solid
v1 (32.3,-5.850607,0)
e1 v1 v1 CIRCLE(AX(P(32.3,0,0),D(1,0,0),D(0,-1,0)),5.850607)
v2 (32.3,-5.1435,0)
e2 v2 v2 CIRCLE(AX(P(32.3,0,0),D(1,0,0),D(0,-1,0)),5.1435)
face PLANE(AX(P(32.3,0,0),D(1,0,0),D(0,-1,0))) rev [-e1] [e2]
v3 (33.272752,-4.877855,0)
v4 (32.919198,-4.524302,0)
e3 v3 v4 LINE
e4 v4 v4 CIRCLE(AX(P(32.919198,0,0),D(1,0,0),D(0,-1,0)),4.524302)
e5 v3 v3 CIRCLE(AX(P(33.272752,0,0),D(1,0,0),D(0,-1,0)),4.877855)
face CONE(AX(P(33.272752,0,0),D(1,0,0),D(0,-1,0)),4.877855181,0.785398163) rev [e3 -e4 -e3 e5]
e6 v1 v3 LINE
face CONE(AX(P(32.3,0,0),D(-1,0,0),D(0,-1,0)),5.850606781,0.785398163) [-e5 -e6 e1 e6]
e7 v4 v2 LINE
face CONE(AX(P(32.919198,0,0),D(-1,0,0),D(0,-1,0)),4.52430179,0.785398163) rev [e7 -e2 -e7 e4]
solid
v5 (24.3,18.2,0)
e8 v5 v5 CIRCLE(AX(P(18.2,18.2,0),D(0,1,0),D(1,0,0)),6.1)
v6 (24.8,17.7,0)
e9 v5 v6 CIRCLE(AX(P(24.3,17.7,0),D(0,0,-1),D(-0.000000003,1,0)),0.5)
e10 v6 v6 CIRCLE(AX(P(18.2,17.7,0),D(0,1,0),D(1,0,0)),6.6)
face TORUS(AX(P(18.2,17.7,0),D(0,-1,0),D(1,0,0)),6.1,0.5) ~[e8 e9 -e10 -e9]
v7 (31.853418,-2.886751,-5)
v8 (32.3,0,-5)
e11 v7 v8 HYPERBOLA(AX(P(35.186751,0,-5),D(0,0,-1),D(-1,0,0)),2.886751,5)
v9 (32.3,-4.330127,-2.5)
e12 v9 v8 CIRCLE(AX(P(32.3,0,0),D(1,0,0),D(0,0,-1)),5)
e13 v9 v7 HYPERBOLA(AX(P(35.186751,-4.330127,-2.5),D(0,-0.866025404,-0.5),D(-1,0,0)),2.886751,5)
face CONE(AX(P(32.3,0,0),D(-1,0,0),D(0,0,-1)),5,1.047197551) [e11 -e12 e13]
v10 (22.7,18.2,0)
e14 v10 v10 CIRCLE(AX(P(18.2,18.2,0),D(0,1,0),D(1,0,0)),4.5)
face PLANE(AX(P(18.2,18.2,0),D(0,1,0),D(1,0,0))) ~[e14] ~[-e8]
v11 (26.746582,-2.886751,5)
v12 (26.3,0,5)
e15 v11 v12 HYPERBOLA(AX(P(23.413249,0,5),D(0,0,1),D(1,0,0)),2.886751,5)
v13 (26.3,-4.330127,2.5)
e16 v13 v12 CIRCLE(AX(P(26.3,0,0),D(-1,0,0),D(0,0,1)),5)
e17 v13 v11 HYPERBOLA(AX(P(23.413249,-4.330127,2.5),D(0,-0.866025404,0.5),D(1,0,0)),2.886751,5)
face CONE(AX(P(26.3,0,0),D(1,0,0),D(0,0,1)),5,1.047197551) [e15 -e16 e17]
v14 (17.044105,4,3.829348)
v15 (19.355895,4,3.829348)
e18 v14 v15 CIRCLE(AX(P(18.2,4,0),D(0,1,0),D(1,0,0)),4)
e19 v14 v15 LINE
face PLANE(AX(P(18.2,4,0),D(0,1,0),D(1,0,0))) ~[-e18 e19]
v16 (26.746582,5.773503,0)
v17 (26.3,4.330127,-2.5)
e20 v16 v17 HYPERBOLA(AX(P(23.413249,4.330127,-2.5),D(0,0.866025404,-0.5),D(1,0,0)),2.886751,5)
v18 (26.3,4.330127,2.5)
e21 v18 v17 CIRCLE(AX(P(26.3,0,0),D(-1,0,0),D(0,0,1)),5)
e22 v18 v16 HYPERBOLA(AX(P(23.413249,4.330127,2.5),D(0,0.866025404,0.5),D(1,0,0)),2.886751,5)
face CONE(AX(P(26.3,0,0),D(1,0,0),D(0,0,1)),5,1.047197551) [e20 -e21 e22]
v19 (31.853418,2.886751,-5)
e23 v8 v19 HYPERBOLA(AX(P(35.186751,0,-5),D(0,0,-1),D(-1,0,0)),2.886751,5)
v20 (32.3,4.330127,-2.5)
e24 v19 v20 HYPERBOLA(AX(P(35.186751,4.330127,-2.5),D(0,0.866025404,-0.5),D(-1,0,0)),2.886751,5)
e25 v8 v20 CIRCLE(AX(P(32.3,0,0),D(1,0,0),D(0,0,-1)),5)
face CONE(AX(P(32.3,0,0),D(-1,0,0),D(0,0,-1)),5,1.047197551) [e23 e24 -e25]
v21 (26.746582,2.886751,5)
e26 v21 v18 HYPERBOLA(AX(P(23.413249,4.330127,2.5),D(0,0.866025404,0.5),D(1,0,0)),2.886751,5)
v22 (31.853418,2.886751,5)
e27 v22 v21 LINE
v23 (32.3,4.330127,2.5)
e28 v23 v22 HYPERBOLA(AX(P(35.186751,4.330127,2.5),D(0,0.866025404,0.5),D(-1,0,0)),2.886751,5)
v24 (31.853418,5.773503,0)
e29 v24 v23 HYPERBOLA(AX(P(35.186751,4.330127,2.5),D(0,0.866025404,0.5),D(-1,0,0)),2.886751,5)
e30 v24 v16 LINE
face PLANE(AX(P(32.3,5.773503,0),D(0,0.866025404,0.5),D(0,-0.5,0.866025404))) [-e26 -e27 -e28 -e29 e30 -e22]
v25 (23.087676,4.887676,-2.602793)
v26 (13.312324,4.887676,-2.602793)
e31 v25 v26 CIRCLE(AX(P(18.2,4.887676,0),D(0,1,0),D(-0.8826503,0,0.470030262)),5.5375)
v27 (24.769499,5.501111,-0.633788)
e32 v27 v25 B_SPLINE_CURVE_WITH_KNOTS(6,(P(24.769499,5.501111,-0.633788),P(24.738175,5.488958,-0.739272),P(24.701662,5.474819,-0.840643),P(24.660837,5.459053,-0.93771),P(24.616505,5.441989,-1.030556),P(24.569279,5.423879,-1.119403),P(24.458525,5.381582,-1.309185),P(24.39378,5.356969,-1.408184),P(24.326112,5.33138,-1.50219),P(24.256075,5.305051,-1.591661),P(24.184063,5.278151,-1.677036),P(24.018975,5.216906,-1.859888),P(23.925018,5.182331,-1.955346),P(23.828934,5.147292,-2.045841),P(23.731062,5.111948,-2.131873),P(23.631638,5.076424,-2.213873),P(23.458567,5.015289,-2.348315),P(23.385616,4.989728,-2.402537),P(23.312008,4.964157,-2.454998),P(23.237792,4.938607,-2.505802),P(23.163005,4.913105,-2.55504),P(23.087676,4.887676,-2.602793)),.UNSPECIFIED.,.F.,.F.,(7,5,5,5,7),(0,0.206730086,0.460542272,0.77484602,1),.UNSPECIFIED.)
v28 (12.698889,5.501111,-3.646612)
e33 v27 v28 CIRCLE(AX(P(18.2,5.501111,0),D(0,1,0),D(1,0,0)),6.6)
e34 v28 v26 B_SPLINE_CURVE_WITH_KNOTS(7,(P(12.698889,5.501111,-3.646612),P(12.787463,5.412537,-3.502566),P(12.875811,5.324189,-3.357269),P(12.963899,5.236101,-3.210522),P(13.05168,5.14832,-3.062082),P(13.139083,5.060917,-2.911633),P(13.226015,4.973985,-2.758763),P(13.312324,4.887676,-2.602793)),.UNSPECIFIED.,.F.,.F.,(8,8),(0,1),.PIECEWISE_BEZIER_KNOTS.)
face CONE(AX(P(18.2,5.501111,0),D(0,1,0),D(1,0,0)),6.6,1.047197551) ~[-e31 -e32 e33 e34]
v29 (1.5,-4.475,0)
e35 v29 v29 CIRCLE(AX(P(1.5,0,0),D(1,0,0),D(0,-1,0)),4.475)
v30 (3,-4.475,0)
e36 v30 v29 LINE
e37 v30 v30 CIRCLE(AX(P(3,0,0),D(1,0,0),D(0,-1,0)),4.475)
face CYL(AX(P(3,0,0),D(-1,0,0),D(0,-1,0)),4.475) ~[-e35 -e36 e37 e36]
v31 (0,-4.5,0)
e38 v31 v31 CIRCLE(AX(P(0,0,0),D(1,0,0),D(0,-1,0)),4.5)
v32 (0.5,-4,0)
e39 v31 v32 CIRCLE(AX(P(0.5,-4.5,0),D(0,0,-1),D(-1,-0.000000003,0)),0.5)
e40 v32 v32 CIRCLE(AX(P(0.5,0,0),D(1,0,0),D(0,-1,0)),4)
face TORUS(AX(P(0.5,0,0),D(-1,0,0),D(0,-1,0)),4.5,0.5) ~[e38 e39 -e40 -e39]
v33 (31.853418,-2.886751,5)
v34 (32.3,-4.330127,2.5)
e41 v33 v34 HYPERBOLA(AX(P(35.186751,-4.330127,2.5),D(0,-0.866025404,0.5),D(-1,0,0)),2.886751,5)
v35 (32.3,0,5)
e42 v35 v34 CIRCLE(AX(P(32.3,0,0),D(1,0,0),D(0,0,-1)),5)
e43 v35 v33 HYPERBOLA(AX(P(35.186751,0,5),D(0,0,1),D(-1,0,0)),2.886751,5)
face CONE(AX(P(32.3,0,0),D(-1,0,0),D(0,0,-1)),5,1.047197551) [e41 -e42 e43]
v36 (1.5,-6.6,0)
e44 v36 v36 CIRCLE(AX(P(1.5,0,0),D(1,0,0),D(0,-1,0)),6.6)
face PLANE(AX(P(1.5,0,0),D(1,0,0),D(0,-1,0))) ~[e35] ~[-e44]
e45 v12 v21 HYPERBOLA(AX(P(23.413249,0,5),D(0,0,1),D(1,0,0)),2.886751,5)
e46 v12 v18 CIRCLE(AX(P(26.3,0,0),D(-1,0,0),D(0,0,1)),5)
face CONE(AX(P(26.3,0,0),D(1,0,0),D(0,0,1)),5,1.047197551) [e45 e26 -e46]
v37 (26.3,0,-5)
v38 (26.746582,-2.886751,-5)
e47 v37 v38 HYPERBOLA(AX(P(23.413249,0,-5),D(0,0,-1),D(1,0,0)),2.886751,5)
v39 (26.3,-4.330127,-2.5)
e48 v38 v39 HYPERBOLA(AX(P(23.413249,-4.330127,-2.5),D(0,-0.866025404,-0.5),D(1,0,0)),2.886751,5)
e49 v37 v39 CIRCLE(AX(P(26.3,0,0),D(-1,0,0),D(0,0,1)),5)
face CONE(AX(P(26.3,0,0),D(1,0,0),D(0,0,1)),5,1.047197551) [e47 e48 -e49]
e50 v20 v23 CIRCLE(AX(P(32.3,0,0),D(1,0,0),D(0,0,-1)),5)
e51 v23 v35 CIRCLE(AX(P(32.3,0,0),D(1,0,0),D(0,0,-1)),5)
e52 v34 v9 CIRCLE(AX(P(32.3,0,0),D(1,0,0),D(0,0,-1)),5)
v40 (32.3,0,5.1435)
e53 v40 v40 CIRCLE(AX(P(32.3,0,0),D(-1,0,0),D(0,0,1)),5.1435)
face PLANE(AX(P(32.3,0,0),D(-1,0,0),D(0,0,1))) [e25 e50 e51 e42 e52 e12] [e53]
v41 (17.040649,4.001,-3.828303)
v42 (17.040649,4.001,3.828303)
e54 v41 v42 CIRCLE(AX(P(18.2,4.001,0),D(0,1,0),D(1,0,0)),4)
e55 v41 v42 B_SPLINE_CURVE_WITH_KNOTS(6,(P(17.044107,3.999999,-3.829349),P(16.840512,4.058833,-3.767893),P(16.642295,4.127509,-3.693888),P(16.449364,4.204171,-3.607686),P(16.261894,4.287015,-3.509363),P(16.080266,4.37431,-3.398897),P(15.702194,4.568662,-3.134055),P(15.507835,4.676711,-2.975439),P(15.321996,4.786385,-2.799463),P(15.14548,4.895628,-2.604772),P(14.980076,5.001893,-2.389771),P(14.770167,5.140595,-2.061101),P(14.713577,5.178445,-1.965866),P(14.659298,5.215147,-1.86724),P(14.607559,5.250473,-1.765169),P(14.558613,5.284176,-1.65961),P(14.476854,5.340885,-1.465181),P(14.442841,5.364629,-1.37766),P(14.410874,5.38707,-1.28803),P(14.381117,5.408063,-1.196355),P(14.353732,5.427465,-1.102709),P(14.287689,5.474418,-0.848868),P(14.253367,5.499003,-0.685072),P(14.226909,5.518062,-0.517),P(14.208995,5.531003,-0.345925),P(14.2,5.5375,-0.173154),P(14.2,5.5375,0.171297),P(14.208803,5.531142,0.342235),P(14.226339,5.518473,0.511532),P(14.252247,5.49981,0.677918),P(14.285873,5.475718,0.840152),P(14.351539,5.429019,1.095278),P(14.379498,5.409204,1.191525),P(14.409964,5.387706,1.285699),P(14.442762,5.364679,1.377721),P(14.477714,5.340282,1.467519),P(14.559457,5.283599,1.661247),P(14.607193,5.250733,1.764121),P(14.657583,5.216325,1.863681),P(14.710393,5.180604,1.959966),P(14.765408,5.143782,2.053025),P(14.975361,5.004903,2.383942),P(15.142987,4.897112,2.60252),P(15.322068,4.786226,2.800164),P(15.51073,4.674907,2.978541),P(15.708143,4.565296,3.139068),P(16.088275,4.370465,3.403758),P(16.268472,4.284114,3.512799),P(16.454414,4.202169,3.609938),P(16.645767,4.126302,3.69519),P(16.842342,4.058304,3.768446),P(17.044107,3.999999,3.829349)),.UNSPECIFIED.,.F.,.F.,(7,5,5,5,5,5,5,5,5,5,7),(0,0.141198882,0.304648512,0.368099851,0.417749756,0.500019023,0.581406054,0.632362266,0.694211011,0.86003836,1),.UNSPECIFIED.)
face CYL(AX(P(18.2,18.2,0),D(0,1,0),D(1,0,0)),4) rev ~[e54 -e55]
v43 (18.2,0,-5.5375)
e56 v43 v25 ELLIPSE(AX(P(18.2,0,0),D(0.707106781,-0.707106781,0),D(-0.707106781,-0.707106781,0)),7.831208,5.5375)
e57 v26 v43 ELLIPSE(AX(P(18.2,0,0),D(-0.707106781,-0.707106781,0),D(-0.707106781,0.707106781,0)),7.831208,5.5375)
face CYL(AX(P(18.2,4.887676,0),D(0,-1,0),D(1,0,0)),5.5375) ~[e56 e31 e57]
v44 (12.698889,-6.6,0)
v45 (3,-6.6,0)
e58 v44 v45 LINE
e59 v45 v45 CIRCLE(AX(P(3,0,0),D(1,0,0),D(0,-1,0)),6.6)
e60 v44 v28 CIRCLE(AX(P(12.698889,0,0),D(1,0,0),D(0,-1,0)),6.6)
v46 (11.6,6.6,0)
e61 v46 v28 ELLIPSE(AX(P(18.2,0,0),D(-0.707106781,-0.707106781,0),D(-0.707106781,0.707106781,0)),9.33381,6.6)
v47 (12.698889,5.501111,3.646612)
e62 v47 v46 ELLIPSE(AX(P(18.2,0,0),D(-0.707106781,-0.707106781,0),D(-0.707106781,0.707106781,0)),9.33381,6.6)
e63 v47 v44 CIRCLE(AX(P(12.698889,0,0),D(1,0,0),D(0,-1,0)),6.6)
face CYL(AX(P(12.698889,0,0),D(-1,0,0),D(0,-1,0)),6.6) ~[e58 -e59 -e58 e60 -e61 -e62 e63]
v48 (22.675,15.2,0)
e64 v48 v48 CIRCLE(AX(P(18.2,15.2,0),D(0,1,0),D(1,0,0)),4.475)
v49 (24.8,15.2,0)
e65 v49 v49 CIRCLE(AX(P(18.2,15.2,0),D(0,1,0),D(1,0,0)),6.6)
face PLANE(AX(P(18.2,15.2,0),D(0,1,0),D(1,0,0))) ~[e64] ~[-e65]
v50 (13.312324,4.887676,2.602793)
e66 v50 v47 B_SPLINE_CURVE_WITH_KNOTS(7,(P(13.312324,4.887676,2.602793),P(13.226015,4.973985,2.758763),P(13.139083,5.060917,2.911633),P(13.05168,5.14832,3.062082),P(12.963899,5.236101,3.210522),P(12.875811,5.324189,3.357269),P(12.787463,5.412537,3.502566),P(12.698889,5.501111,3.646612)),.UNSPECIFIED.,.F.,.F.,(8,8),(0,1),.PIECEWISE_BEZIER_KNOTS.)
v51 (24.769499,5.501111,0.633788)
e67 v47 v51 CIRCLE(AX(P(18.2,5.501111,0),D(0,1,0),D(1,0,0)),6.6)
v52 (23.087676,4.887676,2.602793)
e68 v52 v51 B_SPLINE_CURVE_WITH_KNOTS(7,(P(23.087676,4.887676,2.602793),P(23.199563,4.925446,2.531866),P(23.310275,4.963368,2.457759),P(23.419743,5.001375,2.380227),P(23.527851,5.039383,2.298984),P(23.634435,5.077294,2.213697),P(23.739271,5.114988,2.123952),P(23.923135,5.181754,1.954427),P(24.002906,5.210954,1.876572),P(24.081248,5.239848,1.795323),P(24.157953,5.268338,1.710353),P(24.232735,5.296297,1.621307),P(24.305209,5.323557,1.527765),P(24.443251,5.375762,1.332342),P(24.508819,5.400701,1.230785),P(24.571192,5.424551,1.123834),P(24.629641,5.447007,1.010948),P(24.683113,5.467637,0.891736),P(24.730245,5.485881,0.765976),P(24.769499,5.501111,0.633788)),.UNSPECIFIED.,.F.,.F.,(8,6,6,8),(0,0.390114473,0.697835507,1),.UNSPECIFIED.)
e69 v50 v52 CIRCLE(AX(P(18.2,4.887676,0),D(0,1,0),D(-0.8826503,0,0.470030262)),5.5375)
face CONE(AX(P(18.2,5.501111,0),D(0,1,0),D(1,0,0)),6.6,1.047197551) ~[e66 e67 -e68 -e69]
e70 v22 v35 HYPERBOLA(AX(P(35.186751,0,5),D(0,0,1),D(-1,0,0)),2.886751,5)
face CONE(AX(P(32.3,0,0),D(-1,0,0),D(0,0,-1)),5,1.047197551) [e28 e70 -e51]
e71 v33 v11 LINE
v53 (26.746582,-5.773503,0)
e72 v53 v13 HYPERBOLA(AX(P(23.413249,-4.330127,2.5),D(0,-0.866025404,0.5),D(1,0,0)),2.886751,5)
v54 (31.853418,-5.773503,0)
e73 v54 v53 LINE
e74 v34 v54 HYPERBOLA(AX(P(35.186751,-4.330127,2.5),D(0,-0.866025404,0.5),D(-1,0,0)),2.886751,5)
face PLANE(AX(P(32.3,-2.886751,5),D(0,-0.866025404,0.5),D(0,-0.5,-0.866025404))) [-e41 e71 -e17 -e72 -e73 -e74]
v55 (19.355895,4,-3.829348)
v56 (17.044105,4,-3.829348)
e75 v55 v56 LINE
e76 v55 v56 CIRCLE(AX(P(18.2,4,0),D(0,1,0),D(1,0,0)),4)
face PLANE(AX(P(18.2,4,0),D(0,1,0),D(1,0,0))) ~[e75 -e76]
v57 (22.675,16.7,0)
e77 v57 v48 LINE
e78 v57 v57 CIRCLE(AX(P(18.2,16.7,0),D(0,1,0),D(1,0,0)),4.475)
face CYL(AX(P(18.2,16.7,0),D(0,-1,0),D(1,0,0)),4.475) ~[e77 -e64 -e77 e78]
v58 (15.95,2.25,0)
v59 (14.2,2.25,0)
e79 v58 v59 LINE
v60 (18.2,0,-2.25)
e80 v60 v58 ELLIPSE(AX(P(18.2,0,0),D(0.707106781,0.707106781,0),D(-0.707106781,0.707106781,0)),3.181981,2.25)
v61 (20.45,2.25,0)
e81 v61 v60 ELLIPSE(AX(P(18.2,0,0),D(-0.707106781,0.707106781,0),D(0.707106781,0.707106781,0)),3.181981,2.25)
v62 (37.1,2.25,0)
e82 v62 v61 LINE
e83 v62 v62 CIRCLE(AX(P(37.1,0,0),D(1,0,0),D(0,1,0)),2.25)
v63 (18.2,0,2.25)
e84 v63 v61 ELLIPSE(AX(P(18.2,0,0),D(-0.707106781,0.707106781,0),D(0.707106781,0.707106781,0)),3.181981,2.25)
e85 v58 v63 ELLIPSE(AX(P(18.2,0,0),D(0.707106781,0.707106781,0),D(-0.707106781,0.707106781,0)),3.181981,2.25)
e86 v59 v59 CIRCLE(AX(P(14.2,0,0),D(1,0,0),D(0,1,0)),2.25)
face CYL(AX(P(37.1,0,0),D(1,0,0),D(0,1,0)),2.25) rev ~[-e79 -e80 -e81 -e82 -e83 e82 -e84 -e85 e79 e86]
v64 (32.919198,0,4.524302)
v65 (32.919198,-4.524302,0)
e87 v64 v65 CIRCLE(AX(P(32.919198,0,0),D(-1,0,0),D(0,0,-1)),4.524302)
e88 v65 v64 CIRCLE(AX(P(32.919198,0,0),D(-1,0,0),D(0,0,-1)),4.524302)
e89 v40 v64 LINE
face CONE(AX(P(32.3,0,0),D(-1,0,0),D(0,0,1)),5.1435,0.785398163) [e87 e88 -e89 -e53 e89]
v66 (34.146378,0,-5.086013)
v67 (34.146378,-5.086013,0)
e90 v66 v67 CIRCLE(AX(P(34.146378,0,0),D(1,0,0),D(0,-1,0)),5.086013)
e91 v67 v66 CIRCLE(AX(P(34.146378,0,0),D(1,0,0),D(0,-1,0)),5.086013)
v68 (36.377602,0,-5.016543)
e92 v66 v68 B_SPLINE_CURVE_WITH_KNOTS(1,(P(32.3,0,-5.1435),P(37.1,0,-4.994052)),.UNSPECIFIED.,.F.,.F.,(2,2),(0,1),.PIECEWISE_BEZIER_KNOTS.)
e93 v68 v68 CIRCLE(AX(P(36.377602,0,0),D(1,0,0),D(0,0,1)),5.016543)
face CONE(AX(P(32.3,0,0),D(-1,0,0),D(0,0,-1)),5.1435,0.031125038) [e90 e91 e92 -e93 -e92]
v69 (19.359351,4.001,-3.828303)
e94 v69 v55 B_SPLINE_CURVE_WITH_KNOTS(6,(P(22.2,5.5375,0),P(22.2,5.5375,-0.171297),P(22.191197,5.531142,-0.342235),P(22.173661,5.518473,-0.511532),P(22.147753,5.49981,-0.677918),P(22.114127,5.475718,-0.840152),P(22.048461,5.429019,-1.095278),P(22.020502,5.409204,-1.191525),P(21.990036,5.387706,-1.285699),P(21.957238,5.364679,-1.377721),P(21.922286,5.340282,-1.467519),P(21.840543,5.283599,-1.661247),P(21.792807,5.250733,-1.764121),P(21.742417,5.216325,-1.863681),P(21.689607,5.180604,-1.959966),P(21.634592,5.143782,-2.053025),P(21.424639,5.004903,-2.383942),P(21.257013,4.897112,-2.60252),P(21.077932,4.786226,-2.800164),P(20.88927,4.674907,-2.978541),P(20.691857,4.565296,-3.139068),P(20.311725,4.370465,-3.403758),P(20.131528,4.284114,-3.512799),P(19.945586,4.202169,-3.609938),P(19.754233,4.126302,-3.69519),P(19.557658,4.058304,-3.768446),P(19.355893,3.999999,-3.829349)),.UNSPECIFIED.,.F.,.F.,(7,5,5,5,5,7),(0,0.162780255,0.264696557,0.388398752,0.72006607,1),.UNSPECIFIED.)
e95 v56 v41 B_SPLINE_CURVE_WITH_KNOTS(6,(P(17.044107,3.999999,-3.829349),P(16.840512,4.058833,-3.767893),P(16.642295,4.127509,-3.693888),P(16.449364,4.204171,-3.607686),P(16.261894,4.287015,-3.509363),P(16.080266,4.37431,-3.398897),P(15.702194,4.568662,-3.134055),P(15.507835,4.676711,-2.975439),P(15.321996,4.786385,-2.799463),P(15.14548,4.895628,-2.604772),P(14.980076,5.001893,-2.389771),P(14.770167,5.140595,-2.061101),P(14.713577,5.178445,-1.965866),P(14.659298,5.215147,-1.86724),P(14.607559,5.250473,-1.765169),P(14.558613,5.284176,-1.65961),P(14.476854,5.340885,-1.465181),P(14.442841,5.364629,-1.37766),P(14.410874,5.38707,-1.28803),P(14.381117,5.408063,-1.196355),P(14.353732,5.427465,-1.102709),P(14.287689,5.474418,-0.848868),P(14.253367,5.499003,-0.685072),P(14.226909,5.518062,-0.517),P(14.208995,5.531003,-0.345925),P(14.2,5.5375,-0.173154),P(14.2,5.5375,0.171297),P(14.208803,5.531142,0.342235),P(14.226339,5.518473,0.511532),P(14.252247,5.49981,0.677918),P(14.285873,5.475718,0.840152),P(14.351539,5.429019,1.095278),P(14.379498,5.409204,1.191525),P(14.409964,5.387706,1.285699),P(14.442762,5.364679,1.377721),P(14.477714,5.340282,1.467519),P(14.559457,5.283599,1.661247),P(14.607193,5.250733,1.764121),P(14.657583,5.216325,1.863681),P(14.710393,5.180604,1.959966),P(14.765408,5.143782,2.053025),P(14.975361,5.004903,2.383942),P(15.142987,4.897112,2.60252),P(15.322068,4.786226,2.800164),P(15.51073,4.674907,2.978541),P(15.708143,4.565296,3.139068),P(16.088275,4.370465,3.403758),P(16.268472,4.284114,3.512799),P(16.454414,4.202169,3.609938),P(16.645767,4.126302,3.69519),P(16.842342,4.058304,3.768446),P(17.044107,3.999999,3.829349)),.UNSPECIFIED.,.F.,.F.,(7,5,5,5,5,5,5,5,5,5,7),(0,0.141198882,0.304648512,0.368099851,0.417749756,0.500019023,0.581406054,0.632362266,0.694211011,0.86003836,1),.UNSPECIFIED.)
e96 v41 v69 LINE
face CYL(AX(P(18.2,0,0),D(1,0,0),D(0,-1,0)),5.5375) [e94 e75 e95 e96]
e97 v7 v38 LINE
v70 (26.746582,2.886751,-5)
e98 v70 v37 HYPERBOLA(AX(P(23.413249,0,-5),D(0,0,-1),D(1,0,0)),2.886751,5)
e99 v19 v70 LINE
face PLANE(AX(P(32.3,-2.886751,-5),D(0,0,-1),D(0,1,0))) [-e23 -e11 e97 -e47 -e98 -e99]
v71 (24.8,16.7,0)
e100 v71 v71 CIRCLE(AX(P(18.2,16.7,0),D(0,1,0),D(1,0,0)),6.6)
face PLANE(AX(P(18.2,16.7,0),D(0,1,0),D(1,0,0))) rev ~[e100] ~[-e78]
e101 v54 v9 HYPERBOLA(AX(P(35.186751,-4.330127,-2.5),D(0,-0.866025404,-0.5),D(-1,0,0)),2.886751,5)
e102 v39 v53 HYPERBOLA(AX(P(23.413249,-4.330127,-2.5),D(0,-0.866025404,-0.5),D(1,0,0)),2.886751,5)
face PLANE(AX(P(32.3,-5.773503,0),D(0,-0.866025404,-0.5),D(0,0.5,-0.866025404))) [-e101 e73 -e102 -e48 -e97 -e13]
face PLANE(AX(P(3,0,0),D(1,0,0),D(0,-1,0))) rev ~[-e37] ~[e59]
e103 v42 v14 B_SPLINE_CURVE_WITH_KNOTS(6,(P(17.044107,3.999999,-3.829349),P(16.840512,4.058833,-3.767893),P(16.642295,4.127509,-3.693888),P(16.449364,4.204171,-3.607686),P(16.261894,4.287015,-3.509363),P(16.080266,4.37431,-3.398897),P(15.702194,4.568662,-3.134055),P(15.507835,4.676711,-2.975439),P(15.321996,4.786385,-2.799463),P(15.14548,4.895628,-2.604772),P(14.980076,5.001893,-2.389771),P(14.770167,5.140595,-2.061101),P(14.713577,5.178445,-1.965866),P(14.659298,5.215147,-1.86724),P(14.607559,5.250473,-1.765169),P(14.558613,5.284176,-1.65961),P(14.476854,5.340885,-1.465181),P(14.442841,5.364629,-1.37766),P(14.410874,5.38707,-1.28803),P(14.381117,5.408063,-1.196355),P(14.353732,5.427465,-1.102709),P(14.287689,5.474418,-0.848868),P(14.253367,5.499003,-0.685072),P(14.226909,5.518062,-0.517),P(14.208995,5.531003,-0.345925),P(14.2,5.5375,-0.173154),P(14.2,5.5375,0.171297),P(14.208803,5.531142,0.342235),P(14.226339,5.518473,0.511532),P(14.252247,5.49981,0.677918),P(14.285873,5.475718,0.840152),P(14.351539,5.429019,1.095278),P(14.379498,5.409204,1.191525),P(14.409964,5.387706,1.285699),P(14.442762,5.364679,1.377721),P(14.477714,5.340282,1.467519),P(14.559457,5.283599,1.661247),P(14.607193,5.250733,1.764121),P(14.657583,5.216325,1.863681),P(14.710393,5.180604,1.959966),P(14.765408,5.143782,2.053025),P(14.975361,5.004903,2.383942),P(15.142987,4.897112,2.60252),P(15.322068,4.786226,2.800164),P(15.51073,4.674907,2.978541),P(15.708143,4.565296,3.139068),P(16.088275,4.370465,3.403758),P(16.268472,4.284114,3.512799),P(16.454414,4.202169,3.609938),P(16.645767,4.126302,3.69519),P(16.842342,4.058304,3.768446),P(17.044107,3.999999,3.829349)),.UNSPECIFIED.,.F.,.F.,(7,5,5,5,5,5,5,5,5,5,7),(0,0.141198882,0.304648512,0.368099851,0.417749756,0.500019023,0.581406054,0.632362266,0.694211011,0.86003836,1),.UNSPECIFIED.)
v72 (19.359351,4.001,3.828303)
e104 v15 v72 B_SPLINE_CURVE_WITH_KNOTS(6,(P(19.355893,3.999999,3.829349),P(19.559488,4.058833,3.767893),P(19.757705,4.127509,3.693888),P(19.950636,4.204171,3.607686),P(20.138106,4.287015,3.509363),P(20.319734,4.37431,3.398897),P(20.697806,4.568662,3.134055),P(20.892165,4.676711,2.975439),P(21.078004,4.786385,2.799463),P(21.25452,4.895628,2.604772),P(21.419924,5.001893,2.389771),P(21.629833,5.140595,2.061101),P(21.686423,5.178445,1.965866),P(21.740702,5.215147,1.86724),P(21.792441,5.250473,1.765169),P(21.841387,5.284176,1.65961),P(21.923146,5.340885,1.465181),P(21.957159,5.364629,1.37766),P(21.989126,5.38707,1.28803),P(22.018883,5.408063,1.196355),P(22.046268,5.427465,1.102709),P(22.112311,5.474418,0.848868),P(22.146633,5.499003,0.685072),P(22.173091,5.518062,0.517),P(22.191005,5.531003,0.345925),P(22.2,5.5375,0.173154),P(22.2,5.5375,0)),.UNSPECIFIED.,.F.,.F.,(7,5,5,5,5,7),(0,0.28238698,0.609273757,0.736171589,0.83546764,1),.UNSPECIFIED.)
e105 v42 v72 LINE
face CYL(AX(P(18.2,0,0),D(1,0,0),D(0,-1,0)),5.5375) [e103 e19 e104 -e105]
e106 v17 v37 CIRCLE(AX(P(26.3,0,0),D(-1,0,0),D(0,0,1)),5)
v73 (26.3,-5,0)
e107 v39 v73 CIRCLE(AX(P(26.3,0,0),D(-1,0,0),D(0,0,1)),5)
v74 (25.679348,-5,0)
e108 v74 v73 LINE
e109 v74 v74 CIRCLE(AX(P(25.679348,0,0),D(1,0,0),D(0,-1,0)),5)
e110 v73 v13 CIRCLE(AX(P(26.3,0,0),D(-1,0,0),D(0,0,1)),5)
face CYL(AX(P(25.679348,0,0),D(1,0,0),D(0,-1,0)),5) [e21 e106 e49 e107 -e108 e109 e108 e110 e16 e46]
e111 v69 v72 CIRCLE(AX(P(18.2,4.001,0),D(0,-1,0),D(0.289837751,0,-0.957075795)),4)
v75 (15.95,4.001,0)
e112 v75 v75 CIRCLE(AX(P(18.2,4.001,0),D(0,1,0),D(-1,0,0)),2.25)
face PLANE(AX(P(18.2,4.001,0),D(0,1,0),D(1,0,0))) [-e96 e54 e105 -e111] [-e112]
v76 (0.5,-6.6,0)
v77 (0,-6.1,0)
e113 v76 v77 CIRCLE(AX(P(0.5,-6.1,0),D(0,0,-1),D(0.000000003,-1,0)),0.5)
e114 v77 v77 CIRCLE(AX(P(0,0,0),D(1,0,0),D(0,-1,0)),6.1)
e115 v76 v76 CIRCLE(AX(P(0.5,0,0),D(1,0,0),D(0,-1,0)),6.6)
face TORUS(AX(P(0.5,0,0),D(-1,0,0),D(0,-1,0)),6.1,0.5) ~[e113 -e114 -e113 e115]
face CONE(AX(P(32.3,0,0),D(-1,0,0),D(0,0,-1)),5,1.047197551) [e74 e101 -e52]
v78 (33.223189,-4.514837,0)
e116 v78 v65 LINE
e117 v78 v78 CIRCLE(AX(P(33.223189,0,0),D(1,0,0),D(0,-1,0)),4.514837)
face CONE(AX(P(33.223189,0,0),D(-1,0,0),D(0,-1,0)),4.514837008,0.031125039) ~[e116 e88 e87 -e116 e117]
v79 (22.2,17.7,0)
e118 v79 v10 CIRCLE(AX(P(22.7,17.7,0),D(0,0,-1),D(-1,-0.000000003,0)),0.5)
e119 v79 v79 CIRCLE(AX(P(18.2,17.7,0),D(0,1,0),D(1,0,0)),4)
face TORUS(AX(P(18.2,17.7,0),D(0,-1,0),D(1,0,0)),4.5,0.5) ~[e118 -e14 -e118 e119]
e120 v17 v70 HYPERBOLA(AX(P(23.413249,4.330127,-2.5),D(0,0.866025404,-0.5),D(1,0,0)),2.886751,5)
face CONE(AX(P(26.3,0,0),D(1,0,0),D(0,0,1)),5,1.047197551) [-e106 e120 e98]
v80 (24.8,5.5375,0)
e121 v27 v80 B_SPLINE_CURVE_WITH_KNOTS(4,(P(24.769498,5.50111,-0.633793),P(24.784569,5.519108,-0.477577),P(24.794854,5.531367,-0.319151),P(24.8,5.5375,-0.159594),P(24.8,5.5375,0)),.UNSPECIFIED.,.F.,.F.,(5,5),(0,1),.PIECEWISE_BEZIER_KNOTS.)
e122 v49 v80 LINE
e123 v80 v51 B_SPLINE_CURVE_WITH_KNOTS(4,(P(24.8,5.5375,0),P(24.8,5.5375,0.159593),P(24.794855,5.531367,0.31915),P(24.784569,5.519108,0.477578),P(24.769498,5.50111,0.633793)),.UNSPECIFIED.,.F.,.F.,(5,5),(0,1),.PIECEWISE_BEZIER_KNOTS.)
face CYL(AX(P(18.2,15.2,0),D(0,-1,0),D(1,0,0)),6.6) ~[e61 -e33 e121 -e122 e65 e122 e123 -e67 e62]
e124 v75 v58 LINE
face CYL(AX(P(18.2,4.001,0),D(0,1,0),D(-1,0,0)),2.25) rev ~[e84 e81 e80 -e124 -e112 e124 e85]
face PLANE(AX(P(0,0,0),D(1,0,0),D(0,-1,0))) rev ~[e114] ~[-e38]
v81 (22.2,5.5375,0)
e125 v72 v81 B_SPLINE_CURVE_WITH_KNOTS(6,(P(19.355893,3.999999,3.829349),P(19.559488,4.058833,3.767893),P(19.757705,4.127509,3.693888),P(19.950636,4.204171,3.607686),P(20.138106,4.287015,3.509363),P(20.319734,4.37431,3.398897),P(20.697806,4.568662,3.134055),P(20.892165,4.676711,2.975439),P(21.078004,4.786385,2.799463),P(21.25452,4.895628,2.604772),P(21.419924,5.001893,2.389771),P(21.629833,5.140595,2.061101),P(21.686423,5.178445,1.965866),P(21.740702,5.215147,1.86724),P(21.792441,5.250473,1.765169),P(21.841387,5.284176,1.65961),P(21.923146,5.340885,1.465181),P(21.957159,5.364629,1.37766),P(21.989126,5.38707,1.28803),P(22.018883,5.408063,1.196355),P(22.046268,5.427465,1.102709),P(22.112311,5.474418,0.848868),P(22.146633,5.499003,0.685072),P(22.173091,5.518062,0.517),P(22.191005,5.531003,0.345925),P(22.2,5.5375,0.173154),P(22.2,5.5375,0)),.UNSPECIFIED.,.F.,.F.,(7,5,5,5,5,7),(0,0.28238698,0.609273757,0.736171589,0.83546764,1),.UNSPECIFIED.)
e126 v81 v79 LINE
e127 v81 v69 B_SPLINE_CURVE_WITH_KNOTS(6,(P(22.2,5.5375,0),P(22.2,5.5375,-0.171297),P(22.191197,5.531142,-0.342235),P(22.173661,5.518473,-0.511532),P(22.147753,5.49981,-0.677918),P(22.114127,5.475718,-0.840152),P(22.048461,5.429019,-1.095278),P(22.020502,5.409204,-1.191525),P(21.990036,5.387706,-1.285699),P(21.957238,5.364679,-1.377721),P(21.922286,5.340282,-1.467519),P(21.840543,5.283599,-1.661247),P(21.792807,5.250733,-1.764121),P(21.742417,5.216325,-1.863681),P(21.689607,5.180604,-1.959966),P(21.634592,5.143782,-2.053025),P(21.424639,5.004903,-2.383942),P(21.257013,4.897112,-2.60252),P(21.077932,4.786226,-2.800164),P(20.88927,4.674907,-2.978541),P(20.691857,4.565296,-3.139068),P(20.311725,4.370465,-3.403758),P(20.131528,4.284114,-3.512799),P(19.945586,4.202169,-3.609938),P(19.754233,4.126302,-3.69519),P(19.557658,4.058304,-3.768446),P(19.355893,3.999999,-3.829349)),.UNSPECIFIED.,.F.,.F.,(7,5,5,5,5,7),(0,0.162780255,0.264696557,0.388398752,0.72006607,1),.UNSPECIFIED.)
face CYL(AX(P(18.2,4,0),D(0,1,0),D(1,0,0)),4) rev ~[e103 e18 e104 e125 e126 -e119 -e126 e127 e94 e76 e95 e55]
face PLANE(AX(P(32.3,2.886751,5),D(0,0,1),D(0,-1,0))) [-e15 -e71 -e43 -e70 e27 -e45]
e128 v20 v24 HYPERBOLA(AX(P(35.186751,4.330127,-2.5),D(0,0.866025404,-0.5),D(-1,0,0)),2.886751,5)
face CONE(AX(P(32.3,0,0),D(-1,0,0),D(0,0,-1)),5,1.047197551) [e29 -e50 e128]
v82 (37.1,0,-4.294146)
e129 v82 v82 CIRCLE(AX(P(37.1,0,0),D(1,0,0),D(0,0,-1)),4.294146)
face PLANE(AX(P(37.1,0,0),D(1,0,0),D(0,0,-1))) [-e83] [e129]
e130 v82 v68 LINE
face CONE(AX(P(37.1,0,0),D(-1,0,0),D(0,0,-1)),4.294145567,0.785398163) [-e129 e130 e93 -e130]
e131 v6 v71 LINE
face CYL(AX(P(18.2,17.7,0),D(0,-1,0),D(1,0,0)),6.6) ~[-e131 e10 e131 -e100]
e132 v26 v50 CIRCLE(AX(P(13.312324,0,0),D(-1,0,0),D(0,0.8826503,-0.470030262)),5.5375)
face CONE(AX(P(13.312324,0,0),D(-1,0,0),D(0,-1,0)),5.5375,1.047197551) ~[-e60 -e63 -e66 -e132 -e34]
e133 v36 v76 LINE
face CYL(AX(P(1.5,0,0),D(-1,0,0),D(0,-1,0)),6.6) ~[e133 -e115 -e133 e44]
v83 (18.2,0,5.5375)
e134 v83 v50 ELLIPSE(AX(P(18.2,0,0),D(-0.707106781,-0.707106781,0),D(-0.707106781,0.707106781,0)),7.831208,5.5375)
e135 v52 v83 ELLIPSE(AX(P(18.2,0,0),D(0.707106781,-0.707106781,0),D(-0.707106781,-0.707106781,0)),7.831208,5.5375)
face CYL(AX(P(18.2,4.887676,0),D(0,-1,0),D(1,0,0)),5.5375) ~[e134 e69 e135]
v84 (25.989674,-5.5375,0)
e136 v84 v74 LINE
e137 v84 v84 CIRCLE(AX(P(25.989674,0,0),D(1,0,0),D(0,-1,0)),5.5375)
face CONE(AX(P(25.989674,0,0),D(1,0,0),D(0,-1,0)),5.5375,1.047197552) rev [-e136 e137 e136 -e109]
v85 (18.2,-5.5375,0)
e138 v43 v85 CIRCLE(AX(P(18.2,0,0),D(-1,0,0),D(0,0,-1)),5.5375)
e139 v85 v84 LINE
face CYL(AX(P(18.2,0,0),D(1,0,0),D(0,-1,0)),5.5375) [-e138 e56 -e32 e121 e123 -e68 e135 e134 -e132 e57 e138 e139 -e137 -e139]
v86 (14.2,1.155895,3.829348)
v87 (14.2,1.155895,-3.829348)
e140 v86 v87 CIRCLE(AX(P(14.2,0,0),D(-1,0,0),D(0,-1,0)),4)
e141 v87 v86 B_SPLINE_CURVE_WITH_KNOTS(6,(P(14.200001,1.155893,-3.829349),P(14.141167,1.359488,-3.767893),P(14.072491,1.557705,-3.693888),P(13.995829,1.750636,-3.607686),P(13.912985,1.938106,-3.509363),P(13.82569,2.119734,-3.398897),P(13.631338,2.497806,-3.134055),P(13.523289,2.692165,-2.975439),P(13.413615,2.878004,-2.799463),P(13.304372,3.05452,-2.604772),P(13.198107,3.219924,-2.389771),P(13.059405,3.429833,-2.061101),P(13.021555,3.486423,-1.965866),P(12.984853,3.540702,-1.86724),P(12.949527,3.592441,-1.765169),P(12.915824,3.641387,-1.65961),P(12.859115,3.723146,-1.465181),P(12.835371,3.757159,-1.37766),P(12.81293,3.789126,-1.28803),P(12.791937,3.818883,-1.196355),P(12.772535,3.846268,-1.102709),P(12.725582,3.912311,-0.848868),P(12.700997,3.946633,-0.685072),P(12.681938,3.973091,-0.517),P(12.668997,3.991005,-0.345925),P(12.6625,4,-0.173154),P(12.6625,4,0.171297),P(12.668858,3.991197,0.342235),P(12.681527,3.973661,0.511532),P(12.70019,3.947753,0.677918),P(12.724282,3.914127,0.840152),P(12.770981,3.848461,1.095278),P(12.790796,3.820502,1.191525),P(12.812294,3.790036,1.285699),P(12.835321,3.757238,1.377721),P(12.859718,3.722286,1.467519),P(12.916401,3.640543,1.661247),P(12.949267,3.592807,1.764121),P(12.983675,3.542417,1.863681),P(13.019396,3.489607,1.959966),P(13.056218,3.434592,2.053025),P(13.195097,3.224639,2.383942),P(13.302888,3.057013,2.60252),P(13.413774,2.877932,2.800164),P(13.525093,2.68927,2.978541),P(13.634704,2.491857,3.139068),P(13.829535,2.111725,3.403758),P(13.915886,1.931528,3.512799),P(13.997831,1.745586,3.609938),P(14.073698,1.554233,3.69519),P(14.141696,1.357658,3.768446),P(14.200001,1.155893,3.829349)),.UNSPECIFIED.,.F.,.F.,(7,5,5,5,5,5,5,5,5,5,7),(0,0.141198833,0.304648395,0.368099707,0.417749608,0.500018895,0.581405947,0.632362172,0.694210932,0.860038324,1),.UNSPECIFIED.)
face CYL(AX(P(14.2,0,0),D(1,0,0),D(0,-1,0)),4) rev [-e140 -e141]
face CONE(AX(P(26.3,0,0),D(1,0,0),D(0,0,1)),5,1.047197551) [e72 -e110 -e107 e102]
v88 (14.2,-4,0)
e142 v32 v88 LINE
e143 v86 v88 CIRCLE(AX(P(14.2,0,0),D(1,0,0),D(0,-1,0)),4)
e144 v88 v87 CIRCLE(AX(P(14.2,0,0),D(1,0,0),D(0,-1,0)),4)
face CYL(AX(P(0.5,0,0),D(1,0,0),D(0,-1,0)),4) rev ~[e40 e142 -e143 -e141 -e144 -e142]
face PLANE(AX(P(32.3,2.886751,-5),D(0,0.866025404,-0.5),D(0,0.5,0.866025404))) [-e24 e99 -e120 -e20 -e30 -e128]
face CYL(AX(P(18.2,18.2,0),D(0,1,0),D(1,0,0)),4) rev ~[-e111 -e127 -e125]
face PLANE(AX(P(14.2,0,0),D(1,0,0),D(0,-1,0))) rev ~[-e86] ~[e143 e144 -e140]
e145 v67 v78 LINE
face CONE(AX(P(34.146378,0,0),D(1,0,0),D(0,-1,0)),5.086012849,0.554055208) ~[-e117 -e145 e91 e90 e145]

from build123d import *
from build123d.topology import SkipClean

# Parameters (mm, degrees)
SKETCH2_R            = 5.1435
EXTRUDE1_DEPTH       = 4.8
EXTRUDE1_TAPER       = 1.783333333
SKETCH5_OUTSIDE_W    = 34.108
SKETCH5_OUTSIDE_H    = 45.708
SKETCH5_OUTSIDE_R    = 4.294145567
EXTRUDE2_DEPTH       = 4.8
EXTRUDE2_DRAFT       = -45
SKETCH7_R            = 5.1435
EXTRUDE3_DEPTH       = 3
EXTRUDE3_DRAFT       = -45
EXTRUDE5_DEPTH       = 6
SKETCH9_OUTSIDE_W    = 45.292
SKETCH9_OUTSIDE_H    = 56.892
SKETCH9_OUTSIDE_R    = 5
EXTRUDE6_DEPTH       = 6
EXTRUDE6_DRAFT       = -60
SKETCH10_OUTSIDE_W   = 45.292
SKETCH10_OUTSIDE_H   = 56.892
SKETCH10_OUTSIDE_R   = 5
EXTRUDE7_DEPTH       = 6
EXTRUDE7_DRAFT       = -60
SKETCH13_R           = 4
EXTRUDE8_DEPTH       = 14.2
SKETCH14_R           = 4
EXTRUDE9_DEPTH       = 14.199
SKETCH15_R           = 2.25
EXTRUDE10_DEPTH      = 22.9
EXTRUDE11_REACH      = 42.269
EXTRUDE11_END_RADIUS = 2.25
SKETCH16_R           = 2.25


with BuildPart() as part:
    # Sketch1 → Revolve1 (revolve)
    with BuildSketch(Plane(origin=(0, 0, 0), x_dir=(-1, 0, 0), z_dir=(0, 0, -1)), mode=Mode.PRIVATE) as revolve1_sk:
        with BuildLine():
            Line((0, 6.1), (0, 4.5))
            ThreePointArc((0, 4.5), (-0.146446609, 4.146446609), (-0.5, 4))
            Line((-0.5, 4), (-14.2, 4))
            Line((-14.2, 4), (-14.2, 0))
            Line((-14.2, 0), (-18.2, 0))
            Line((-18.2, 0), (-18.2, 5.5375))
            Line((-18.2, 5.5375), (-13.312323961, 5.5375))
            Line((-13.312323961, 5.5375), (-12.6988893, 6.6))
            Line((-12.6988893, 6.6), (-3, 6.6))
            Line((-3, 6.6), (-3, 4.475))
            Line((-3, 4.475), (-1.5, 4.475))
            Line((-1.5, 4.475), (-1.5, 6.6))
            Line((-1.5, 6.6), (-0.5, 6.6))
            ThreePointArc((-0.5, 6.6), (-0.146446609, 6.453553391), (0, 6.1))
        make_face()
    revolve(revolve1_sk.sketch.rotate(Axis((0, 0, 0), (1, 0, 0)), 180), axis=Axis((0, 0, 0), (1, 0, 0)))

    # Sketch1.5 → Revolve2 (revolve)
    with BuildSketch(Plane.XY):
        with BuildLine():
            Line((22.7, 18.2), (24.3, 18.2))
            ThreePointArc((24.3, 18.2), (24.653553391, 18.053553391), (24.8, 17.7))
            Line((24.8, 17.7), (24.8, 16.7))
            Line((24.8, 16.7), (22.675, 16.7))
            Line((22.675, 16.7), (22.675, 15.2))
            Line((22.675, 15.2), (24.8, 15.2))
            Line((24.8, 15.2), (24.8, 5.5011107))
            Line((24.8, 5.5011107), (23.7375, 4.887676039))
            Line((23.7375, 4.887676039), (23.7375, 0))
            Line((23.7375, 0), (18.2, 0))
            Line((18.2, 0), (18.2, 4))
            Line((18.2, 4), (22.2, 4))
            Line((22.2, 4), (22.2, 17.7))
            ThreePointArc((22.2, 17.7), (22.346446609, 18.053553391), (22.7, 18.2))
        make_face()
    revolve(axis=Axis((18.2, 0, 0), (0, 1, 0)))



with BuildPart() as body_2:
    # Sketch2 → Extrude1 (new body)
    with BuildSketch(Plane(origin=(32.3, 0, 0), x_dir=(0, 0, -1), z_dir=(1, 0, 0))):
        Circle(SKETCH2_R)
    extrude(amount=EXTRUDE1_DEPTH, taper=EXTRUDE1_TAPER)


with BuildPart() as extrude2_tool:
    # Sketch5 outside → Extrude2 (with draft: the straight prism first)
    with BuildSketch(Plane(origin=(37.1, 0, 0), x_dir=(0, 0, -1), z_dir=(1, 0, 0))):
        with Locations((0, 5.8)):
            Rectangle(SKETCH5_OUTSIDE_W, SKETCH5_OUTSIDE_H)
        Circle(SKETCH5_OUTSIDE_R, mode=Mode.SUBTRACT)
    extrude(amount=-EXTRUDE2_DEPTH)
    # Extrude2: the draft: its side faces are tilted about the plane it starts from
    extrude2_sides = [extrude2_tool.faces().sort_by_distance(p)[0] for p in [
        (34.7, -17.054, 0),
        (34.7, 5.8, -17.054),
        (34.7, 28.654, 0),
        (34.7, 5.8, 17.054),
        (34.7, 0, 4.294145567),
    ]]
    draft(extrude2_sides, Plane(origin=(37.1, 0, 0), x_dir=(0, 0, -1), z_dir=(1, 0, 0)), EXTRUDE2_DRAFT)


with BuildPart() as body_2_1:
    add(body_2.part)

    # Extrude2: cut by extrude2_tool
    add(extrude2_tool.part, mode=Mode.SUBTRACT)

    # Sketch6 → Cut-Revolve1 (revolve, cut)
    with BuildSketch(Plane.XY):
        Polygon((32.3, -5.1435), (33.223189005, -5.114756424), (34.14637801, -5.086012849), (33.223189005, -4.514837008), (32.3, -4.543580584), align=None)
    revolve(axis=Axis((32.3, 0, 0), (1, 0, 0)), mode=Mode.SUBTRACT)


with BuildPart() as extrude3_tool:
    # Sketch7 → Extrude3 (with draft: the straight prism first)
    with BuildSketch(Plane.ZY.offset(-32.3)):
        Circle(SKETCH7_R)
    extrude(amount=-EXTRUDE3_DEPTH)
    # Extrude3: the draft: its side faces are tilted about the plane it starts from
    extrude3_sides = [extrude3_tool.faces().sort_by_distance(p)[0] for p in [
        (33.8, 0, -5.1435),
    ]]
    draft(extrude3_sides, Plane.ZY.offset(-32.3), EXTRUDE3_DRAFT)


with BuildPart() as body_2_2:
    add(body_2_1.part)

    # Extrude3: add extrude3_tool
    add(extrude3_tool.part)

    # Sketch8 → Extrude5 (add)
    with BuildSketch(Plane(origin=(32.3, 0, 0), x_dir=(0, 0, -1), z_dir=(1, 0, 0))):
        Polygon((0, 5.773502692), (-5, 2.886751346), (-5, -2.886751346), (0, -5.773502692), (5, -2.886751346), (5, 2.886751346), align=None)
    extrude(amount=-EXTRUDE5_DEPTH)


with BuildPart() as extrude6_tool:
    # Sketch9 outside → Extrude6 (with draft: the straight prism first)
    with BuildSketch(Plane(origin=(32.3, 0, 0), x_dir=(0, 0, -1), z_dir=(1, 0, 0))):
        with Locations((0, 5.8)):
            Rectangle(SKETCH9_OUTSIDE_W, SKETCH9_OUTSIDE_H)
        Circle(SKETCH9_OUTSIDE_R, mode=Mode.SUBTRACT)
    extrude(amount=-EXTRUDE6_DEPTH)
    # Extrude6: the draft: its side faces are tilted about the plane it starts from
    extrude6_sides = [extrude6_tool.faces().sort_by_distance(p)[0] for p in [
        (29.3, -22.646, 0),
        (29.3, 5.8, -22.646),
        (29.3, 34.246, 0),
        (29.3, 5.8, 22.646),
        (29.3, 0, 5),
    ]]
    draft(extrude6_sides, Plane(origin=(32.3, 0, 0), x_dir=(0, 0, -1), z_dir=(1, 0, 0)), EXTRUDE6_DRAFT)


with BuildPart() as body_2_3:
    add(body_2_2.part)

    # Extrude6: cut by extrude6_tool
    add(extrude6_tool.part, mode=Mode.SUBTRACT)


with BuildPart() as extrude7_tool:
    # Sketch10 outside → Extrude7 (with draft: the straight prism first)
    with BuildSketch(Plane.ZY.offset(-26.3)):
        with Locations((0, 5.8)):
            Rectangle(SKETCH10_OUTSIDE_W, SKETCH10_OUTSIDE_H)
        Circle(SKETCH10_OUTSIDE_R, mode=Mode.SUBTRACT)
    extrude(amount=-EXTRUDE7_DEPTH)
    # Extrude7: the draft: its side faces are tilted about the plane it starts from
    extrude7_sides = [extrude7_tool.faces().sort_by_distance(p)[0] for p in [
        (29.3, -22.646, 0),
        (29.3, 5.8, 22.646),
        (29.3, 34.246, 0),
        (29.3, 5.8, -22.646),
        (29.3, 0, -5),
    ]]
    draft(extrude7_sides, Plane.ZY.offset(-26.3), EXTRUDE7_DRAFT)


with BuildPart() as body_2_4:
    add(body_2_3.part)

    # Extrude7: cut by extrude7_tool
    add(extrude7_tool.part, mode=Mode.SUBTRACT)


with BuildPart() as body_3:
    # Sketch11 → Revolve3 (revolve)
    with BuildSketch(Plane.XY, mode=Mode.PRIVATE) as revolve3_sk:
        Polygon((32.3, 5.850606781), (33.272751601, 4.877855181), (32.91919821, 4.52430179), (32.3, 5.1435), align=None)
    revolve(revolve3_sk.sketch.rotate(Axis((0, 0, 0), (1, 0, 0)), 180), axis=Axis((0, 0, 0), (1, 0, 0)))


with BuildPart() as part_1:
    add(part.part)

    add(body_2_4.part)  # Revolve4 merges body 2
    # Sketch12 → Revolve4 (revolve)
    with BuildSketch(Plane.XY):
        Polygon((18.2, 0), (18.2, -5.5375), (25.98967423, -5.5375), (25.679348461, -5), (26.3, -5), (26.3, 0), align=None)
    revolve(axis=Axis((18.2, 0, 0), (1, 0, 0)))

    # Sketch13 → Extrude8 (cut)
    with BuildSketch(Plane.ZY.offset(-14.2)):
        with Locations(Location((0, 0, 0), (0, 0, 270))):
            Circle(SKETCH13_R)
    extrude(amount=EXTRUDE8_DEPTH, mode=Mode.SUBTRACT)

    # Sketch14 → Extrude9 (cut)
    with SkipClean():  # the faces are left unmerged after this step: merging them gives an invalid solid
        with BuildSketch(Plane(origin=(0, 18.2, 0), x_dir=(1, 0, 0), z_dir=(0, 1, 0))):
            with Locations((18.2, 0)):
                Circle(SKETCH14_R)
        extrude(amount=-EXTRUDE9_DEPTH, mode=Mode.SUBTRACT)

    # Sketch15 → Extrude10 (cut)
    with SkipClean():  # the faces are left unmerged after this step: merging them gives an invalid solid
        with BuildSketch(Plane(origin=(37.1, 0, 0), x_dir=(0, 0, -1), z_dir=(1, 0, 0))):
            with Locations(Location((0, 0, 0), (0, 0, 90))):
                Circle(SKETCH15_R)
        extrude(amount=-EXTRUDE10_DEPTH, mode=Mode.SUBTRACT)

    # Extrude11: up to this cylinder (the profile starts outside it)
    extrude11_end = Plane(origin=(18.2, 0, 0), z_dir=(1, 0, 0)) * Cylinder(EXTRUDE11_END_RADIUS, 90.038, mode=Mode.PRIVATE)
    # Sketch16 → Extrude11 (cut, up to the surface)
    with BuildSketch(Plane(origin=(0, 4.001, 0), x_dir=(1, 0, 0), z_dir=(0, 1, 0)), mode=Mode.PRIVATE) as extrude11_sk1:
        with Locations(Location((18.2, 0, 0), (0, 0, 180))):
            Circle(SKETCH16_R)
    extrude11_tool1 = extrude(extrude11_sk1.sketch, amount=-EXTRUDE11_REACH, mode=Mode.PRIVATE) - extrude11_end
    add(extrude11_tool1.solids().sort_by_distance((18.2, 4.001, 0))[0], mode=Mode.SUBTRACT)


solid = Compound([body_3.part, part_1.part])
